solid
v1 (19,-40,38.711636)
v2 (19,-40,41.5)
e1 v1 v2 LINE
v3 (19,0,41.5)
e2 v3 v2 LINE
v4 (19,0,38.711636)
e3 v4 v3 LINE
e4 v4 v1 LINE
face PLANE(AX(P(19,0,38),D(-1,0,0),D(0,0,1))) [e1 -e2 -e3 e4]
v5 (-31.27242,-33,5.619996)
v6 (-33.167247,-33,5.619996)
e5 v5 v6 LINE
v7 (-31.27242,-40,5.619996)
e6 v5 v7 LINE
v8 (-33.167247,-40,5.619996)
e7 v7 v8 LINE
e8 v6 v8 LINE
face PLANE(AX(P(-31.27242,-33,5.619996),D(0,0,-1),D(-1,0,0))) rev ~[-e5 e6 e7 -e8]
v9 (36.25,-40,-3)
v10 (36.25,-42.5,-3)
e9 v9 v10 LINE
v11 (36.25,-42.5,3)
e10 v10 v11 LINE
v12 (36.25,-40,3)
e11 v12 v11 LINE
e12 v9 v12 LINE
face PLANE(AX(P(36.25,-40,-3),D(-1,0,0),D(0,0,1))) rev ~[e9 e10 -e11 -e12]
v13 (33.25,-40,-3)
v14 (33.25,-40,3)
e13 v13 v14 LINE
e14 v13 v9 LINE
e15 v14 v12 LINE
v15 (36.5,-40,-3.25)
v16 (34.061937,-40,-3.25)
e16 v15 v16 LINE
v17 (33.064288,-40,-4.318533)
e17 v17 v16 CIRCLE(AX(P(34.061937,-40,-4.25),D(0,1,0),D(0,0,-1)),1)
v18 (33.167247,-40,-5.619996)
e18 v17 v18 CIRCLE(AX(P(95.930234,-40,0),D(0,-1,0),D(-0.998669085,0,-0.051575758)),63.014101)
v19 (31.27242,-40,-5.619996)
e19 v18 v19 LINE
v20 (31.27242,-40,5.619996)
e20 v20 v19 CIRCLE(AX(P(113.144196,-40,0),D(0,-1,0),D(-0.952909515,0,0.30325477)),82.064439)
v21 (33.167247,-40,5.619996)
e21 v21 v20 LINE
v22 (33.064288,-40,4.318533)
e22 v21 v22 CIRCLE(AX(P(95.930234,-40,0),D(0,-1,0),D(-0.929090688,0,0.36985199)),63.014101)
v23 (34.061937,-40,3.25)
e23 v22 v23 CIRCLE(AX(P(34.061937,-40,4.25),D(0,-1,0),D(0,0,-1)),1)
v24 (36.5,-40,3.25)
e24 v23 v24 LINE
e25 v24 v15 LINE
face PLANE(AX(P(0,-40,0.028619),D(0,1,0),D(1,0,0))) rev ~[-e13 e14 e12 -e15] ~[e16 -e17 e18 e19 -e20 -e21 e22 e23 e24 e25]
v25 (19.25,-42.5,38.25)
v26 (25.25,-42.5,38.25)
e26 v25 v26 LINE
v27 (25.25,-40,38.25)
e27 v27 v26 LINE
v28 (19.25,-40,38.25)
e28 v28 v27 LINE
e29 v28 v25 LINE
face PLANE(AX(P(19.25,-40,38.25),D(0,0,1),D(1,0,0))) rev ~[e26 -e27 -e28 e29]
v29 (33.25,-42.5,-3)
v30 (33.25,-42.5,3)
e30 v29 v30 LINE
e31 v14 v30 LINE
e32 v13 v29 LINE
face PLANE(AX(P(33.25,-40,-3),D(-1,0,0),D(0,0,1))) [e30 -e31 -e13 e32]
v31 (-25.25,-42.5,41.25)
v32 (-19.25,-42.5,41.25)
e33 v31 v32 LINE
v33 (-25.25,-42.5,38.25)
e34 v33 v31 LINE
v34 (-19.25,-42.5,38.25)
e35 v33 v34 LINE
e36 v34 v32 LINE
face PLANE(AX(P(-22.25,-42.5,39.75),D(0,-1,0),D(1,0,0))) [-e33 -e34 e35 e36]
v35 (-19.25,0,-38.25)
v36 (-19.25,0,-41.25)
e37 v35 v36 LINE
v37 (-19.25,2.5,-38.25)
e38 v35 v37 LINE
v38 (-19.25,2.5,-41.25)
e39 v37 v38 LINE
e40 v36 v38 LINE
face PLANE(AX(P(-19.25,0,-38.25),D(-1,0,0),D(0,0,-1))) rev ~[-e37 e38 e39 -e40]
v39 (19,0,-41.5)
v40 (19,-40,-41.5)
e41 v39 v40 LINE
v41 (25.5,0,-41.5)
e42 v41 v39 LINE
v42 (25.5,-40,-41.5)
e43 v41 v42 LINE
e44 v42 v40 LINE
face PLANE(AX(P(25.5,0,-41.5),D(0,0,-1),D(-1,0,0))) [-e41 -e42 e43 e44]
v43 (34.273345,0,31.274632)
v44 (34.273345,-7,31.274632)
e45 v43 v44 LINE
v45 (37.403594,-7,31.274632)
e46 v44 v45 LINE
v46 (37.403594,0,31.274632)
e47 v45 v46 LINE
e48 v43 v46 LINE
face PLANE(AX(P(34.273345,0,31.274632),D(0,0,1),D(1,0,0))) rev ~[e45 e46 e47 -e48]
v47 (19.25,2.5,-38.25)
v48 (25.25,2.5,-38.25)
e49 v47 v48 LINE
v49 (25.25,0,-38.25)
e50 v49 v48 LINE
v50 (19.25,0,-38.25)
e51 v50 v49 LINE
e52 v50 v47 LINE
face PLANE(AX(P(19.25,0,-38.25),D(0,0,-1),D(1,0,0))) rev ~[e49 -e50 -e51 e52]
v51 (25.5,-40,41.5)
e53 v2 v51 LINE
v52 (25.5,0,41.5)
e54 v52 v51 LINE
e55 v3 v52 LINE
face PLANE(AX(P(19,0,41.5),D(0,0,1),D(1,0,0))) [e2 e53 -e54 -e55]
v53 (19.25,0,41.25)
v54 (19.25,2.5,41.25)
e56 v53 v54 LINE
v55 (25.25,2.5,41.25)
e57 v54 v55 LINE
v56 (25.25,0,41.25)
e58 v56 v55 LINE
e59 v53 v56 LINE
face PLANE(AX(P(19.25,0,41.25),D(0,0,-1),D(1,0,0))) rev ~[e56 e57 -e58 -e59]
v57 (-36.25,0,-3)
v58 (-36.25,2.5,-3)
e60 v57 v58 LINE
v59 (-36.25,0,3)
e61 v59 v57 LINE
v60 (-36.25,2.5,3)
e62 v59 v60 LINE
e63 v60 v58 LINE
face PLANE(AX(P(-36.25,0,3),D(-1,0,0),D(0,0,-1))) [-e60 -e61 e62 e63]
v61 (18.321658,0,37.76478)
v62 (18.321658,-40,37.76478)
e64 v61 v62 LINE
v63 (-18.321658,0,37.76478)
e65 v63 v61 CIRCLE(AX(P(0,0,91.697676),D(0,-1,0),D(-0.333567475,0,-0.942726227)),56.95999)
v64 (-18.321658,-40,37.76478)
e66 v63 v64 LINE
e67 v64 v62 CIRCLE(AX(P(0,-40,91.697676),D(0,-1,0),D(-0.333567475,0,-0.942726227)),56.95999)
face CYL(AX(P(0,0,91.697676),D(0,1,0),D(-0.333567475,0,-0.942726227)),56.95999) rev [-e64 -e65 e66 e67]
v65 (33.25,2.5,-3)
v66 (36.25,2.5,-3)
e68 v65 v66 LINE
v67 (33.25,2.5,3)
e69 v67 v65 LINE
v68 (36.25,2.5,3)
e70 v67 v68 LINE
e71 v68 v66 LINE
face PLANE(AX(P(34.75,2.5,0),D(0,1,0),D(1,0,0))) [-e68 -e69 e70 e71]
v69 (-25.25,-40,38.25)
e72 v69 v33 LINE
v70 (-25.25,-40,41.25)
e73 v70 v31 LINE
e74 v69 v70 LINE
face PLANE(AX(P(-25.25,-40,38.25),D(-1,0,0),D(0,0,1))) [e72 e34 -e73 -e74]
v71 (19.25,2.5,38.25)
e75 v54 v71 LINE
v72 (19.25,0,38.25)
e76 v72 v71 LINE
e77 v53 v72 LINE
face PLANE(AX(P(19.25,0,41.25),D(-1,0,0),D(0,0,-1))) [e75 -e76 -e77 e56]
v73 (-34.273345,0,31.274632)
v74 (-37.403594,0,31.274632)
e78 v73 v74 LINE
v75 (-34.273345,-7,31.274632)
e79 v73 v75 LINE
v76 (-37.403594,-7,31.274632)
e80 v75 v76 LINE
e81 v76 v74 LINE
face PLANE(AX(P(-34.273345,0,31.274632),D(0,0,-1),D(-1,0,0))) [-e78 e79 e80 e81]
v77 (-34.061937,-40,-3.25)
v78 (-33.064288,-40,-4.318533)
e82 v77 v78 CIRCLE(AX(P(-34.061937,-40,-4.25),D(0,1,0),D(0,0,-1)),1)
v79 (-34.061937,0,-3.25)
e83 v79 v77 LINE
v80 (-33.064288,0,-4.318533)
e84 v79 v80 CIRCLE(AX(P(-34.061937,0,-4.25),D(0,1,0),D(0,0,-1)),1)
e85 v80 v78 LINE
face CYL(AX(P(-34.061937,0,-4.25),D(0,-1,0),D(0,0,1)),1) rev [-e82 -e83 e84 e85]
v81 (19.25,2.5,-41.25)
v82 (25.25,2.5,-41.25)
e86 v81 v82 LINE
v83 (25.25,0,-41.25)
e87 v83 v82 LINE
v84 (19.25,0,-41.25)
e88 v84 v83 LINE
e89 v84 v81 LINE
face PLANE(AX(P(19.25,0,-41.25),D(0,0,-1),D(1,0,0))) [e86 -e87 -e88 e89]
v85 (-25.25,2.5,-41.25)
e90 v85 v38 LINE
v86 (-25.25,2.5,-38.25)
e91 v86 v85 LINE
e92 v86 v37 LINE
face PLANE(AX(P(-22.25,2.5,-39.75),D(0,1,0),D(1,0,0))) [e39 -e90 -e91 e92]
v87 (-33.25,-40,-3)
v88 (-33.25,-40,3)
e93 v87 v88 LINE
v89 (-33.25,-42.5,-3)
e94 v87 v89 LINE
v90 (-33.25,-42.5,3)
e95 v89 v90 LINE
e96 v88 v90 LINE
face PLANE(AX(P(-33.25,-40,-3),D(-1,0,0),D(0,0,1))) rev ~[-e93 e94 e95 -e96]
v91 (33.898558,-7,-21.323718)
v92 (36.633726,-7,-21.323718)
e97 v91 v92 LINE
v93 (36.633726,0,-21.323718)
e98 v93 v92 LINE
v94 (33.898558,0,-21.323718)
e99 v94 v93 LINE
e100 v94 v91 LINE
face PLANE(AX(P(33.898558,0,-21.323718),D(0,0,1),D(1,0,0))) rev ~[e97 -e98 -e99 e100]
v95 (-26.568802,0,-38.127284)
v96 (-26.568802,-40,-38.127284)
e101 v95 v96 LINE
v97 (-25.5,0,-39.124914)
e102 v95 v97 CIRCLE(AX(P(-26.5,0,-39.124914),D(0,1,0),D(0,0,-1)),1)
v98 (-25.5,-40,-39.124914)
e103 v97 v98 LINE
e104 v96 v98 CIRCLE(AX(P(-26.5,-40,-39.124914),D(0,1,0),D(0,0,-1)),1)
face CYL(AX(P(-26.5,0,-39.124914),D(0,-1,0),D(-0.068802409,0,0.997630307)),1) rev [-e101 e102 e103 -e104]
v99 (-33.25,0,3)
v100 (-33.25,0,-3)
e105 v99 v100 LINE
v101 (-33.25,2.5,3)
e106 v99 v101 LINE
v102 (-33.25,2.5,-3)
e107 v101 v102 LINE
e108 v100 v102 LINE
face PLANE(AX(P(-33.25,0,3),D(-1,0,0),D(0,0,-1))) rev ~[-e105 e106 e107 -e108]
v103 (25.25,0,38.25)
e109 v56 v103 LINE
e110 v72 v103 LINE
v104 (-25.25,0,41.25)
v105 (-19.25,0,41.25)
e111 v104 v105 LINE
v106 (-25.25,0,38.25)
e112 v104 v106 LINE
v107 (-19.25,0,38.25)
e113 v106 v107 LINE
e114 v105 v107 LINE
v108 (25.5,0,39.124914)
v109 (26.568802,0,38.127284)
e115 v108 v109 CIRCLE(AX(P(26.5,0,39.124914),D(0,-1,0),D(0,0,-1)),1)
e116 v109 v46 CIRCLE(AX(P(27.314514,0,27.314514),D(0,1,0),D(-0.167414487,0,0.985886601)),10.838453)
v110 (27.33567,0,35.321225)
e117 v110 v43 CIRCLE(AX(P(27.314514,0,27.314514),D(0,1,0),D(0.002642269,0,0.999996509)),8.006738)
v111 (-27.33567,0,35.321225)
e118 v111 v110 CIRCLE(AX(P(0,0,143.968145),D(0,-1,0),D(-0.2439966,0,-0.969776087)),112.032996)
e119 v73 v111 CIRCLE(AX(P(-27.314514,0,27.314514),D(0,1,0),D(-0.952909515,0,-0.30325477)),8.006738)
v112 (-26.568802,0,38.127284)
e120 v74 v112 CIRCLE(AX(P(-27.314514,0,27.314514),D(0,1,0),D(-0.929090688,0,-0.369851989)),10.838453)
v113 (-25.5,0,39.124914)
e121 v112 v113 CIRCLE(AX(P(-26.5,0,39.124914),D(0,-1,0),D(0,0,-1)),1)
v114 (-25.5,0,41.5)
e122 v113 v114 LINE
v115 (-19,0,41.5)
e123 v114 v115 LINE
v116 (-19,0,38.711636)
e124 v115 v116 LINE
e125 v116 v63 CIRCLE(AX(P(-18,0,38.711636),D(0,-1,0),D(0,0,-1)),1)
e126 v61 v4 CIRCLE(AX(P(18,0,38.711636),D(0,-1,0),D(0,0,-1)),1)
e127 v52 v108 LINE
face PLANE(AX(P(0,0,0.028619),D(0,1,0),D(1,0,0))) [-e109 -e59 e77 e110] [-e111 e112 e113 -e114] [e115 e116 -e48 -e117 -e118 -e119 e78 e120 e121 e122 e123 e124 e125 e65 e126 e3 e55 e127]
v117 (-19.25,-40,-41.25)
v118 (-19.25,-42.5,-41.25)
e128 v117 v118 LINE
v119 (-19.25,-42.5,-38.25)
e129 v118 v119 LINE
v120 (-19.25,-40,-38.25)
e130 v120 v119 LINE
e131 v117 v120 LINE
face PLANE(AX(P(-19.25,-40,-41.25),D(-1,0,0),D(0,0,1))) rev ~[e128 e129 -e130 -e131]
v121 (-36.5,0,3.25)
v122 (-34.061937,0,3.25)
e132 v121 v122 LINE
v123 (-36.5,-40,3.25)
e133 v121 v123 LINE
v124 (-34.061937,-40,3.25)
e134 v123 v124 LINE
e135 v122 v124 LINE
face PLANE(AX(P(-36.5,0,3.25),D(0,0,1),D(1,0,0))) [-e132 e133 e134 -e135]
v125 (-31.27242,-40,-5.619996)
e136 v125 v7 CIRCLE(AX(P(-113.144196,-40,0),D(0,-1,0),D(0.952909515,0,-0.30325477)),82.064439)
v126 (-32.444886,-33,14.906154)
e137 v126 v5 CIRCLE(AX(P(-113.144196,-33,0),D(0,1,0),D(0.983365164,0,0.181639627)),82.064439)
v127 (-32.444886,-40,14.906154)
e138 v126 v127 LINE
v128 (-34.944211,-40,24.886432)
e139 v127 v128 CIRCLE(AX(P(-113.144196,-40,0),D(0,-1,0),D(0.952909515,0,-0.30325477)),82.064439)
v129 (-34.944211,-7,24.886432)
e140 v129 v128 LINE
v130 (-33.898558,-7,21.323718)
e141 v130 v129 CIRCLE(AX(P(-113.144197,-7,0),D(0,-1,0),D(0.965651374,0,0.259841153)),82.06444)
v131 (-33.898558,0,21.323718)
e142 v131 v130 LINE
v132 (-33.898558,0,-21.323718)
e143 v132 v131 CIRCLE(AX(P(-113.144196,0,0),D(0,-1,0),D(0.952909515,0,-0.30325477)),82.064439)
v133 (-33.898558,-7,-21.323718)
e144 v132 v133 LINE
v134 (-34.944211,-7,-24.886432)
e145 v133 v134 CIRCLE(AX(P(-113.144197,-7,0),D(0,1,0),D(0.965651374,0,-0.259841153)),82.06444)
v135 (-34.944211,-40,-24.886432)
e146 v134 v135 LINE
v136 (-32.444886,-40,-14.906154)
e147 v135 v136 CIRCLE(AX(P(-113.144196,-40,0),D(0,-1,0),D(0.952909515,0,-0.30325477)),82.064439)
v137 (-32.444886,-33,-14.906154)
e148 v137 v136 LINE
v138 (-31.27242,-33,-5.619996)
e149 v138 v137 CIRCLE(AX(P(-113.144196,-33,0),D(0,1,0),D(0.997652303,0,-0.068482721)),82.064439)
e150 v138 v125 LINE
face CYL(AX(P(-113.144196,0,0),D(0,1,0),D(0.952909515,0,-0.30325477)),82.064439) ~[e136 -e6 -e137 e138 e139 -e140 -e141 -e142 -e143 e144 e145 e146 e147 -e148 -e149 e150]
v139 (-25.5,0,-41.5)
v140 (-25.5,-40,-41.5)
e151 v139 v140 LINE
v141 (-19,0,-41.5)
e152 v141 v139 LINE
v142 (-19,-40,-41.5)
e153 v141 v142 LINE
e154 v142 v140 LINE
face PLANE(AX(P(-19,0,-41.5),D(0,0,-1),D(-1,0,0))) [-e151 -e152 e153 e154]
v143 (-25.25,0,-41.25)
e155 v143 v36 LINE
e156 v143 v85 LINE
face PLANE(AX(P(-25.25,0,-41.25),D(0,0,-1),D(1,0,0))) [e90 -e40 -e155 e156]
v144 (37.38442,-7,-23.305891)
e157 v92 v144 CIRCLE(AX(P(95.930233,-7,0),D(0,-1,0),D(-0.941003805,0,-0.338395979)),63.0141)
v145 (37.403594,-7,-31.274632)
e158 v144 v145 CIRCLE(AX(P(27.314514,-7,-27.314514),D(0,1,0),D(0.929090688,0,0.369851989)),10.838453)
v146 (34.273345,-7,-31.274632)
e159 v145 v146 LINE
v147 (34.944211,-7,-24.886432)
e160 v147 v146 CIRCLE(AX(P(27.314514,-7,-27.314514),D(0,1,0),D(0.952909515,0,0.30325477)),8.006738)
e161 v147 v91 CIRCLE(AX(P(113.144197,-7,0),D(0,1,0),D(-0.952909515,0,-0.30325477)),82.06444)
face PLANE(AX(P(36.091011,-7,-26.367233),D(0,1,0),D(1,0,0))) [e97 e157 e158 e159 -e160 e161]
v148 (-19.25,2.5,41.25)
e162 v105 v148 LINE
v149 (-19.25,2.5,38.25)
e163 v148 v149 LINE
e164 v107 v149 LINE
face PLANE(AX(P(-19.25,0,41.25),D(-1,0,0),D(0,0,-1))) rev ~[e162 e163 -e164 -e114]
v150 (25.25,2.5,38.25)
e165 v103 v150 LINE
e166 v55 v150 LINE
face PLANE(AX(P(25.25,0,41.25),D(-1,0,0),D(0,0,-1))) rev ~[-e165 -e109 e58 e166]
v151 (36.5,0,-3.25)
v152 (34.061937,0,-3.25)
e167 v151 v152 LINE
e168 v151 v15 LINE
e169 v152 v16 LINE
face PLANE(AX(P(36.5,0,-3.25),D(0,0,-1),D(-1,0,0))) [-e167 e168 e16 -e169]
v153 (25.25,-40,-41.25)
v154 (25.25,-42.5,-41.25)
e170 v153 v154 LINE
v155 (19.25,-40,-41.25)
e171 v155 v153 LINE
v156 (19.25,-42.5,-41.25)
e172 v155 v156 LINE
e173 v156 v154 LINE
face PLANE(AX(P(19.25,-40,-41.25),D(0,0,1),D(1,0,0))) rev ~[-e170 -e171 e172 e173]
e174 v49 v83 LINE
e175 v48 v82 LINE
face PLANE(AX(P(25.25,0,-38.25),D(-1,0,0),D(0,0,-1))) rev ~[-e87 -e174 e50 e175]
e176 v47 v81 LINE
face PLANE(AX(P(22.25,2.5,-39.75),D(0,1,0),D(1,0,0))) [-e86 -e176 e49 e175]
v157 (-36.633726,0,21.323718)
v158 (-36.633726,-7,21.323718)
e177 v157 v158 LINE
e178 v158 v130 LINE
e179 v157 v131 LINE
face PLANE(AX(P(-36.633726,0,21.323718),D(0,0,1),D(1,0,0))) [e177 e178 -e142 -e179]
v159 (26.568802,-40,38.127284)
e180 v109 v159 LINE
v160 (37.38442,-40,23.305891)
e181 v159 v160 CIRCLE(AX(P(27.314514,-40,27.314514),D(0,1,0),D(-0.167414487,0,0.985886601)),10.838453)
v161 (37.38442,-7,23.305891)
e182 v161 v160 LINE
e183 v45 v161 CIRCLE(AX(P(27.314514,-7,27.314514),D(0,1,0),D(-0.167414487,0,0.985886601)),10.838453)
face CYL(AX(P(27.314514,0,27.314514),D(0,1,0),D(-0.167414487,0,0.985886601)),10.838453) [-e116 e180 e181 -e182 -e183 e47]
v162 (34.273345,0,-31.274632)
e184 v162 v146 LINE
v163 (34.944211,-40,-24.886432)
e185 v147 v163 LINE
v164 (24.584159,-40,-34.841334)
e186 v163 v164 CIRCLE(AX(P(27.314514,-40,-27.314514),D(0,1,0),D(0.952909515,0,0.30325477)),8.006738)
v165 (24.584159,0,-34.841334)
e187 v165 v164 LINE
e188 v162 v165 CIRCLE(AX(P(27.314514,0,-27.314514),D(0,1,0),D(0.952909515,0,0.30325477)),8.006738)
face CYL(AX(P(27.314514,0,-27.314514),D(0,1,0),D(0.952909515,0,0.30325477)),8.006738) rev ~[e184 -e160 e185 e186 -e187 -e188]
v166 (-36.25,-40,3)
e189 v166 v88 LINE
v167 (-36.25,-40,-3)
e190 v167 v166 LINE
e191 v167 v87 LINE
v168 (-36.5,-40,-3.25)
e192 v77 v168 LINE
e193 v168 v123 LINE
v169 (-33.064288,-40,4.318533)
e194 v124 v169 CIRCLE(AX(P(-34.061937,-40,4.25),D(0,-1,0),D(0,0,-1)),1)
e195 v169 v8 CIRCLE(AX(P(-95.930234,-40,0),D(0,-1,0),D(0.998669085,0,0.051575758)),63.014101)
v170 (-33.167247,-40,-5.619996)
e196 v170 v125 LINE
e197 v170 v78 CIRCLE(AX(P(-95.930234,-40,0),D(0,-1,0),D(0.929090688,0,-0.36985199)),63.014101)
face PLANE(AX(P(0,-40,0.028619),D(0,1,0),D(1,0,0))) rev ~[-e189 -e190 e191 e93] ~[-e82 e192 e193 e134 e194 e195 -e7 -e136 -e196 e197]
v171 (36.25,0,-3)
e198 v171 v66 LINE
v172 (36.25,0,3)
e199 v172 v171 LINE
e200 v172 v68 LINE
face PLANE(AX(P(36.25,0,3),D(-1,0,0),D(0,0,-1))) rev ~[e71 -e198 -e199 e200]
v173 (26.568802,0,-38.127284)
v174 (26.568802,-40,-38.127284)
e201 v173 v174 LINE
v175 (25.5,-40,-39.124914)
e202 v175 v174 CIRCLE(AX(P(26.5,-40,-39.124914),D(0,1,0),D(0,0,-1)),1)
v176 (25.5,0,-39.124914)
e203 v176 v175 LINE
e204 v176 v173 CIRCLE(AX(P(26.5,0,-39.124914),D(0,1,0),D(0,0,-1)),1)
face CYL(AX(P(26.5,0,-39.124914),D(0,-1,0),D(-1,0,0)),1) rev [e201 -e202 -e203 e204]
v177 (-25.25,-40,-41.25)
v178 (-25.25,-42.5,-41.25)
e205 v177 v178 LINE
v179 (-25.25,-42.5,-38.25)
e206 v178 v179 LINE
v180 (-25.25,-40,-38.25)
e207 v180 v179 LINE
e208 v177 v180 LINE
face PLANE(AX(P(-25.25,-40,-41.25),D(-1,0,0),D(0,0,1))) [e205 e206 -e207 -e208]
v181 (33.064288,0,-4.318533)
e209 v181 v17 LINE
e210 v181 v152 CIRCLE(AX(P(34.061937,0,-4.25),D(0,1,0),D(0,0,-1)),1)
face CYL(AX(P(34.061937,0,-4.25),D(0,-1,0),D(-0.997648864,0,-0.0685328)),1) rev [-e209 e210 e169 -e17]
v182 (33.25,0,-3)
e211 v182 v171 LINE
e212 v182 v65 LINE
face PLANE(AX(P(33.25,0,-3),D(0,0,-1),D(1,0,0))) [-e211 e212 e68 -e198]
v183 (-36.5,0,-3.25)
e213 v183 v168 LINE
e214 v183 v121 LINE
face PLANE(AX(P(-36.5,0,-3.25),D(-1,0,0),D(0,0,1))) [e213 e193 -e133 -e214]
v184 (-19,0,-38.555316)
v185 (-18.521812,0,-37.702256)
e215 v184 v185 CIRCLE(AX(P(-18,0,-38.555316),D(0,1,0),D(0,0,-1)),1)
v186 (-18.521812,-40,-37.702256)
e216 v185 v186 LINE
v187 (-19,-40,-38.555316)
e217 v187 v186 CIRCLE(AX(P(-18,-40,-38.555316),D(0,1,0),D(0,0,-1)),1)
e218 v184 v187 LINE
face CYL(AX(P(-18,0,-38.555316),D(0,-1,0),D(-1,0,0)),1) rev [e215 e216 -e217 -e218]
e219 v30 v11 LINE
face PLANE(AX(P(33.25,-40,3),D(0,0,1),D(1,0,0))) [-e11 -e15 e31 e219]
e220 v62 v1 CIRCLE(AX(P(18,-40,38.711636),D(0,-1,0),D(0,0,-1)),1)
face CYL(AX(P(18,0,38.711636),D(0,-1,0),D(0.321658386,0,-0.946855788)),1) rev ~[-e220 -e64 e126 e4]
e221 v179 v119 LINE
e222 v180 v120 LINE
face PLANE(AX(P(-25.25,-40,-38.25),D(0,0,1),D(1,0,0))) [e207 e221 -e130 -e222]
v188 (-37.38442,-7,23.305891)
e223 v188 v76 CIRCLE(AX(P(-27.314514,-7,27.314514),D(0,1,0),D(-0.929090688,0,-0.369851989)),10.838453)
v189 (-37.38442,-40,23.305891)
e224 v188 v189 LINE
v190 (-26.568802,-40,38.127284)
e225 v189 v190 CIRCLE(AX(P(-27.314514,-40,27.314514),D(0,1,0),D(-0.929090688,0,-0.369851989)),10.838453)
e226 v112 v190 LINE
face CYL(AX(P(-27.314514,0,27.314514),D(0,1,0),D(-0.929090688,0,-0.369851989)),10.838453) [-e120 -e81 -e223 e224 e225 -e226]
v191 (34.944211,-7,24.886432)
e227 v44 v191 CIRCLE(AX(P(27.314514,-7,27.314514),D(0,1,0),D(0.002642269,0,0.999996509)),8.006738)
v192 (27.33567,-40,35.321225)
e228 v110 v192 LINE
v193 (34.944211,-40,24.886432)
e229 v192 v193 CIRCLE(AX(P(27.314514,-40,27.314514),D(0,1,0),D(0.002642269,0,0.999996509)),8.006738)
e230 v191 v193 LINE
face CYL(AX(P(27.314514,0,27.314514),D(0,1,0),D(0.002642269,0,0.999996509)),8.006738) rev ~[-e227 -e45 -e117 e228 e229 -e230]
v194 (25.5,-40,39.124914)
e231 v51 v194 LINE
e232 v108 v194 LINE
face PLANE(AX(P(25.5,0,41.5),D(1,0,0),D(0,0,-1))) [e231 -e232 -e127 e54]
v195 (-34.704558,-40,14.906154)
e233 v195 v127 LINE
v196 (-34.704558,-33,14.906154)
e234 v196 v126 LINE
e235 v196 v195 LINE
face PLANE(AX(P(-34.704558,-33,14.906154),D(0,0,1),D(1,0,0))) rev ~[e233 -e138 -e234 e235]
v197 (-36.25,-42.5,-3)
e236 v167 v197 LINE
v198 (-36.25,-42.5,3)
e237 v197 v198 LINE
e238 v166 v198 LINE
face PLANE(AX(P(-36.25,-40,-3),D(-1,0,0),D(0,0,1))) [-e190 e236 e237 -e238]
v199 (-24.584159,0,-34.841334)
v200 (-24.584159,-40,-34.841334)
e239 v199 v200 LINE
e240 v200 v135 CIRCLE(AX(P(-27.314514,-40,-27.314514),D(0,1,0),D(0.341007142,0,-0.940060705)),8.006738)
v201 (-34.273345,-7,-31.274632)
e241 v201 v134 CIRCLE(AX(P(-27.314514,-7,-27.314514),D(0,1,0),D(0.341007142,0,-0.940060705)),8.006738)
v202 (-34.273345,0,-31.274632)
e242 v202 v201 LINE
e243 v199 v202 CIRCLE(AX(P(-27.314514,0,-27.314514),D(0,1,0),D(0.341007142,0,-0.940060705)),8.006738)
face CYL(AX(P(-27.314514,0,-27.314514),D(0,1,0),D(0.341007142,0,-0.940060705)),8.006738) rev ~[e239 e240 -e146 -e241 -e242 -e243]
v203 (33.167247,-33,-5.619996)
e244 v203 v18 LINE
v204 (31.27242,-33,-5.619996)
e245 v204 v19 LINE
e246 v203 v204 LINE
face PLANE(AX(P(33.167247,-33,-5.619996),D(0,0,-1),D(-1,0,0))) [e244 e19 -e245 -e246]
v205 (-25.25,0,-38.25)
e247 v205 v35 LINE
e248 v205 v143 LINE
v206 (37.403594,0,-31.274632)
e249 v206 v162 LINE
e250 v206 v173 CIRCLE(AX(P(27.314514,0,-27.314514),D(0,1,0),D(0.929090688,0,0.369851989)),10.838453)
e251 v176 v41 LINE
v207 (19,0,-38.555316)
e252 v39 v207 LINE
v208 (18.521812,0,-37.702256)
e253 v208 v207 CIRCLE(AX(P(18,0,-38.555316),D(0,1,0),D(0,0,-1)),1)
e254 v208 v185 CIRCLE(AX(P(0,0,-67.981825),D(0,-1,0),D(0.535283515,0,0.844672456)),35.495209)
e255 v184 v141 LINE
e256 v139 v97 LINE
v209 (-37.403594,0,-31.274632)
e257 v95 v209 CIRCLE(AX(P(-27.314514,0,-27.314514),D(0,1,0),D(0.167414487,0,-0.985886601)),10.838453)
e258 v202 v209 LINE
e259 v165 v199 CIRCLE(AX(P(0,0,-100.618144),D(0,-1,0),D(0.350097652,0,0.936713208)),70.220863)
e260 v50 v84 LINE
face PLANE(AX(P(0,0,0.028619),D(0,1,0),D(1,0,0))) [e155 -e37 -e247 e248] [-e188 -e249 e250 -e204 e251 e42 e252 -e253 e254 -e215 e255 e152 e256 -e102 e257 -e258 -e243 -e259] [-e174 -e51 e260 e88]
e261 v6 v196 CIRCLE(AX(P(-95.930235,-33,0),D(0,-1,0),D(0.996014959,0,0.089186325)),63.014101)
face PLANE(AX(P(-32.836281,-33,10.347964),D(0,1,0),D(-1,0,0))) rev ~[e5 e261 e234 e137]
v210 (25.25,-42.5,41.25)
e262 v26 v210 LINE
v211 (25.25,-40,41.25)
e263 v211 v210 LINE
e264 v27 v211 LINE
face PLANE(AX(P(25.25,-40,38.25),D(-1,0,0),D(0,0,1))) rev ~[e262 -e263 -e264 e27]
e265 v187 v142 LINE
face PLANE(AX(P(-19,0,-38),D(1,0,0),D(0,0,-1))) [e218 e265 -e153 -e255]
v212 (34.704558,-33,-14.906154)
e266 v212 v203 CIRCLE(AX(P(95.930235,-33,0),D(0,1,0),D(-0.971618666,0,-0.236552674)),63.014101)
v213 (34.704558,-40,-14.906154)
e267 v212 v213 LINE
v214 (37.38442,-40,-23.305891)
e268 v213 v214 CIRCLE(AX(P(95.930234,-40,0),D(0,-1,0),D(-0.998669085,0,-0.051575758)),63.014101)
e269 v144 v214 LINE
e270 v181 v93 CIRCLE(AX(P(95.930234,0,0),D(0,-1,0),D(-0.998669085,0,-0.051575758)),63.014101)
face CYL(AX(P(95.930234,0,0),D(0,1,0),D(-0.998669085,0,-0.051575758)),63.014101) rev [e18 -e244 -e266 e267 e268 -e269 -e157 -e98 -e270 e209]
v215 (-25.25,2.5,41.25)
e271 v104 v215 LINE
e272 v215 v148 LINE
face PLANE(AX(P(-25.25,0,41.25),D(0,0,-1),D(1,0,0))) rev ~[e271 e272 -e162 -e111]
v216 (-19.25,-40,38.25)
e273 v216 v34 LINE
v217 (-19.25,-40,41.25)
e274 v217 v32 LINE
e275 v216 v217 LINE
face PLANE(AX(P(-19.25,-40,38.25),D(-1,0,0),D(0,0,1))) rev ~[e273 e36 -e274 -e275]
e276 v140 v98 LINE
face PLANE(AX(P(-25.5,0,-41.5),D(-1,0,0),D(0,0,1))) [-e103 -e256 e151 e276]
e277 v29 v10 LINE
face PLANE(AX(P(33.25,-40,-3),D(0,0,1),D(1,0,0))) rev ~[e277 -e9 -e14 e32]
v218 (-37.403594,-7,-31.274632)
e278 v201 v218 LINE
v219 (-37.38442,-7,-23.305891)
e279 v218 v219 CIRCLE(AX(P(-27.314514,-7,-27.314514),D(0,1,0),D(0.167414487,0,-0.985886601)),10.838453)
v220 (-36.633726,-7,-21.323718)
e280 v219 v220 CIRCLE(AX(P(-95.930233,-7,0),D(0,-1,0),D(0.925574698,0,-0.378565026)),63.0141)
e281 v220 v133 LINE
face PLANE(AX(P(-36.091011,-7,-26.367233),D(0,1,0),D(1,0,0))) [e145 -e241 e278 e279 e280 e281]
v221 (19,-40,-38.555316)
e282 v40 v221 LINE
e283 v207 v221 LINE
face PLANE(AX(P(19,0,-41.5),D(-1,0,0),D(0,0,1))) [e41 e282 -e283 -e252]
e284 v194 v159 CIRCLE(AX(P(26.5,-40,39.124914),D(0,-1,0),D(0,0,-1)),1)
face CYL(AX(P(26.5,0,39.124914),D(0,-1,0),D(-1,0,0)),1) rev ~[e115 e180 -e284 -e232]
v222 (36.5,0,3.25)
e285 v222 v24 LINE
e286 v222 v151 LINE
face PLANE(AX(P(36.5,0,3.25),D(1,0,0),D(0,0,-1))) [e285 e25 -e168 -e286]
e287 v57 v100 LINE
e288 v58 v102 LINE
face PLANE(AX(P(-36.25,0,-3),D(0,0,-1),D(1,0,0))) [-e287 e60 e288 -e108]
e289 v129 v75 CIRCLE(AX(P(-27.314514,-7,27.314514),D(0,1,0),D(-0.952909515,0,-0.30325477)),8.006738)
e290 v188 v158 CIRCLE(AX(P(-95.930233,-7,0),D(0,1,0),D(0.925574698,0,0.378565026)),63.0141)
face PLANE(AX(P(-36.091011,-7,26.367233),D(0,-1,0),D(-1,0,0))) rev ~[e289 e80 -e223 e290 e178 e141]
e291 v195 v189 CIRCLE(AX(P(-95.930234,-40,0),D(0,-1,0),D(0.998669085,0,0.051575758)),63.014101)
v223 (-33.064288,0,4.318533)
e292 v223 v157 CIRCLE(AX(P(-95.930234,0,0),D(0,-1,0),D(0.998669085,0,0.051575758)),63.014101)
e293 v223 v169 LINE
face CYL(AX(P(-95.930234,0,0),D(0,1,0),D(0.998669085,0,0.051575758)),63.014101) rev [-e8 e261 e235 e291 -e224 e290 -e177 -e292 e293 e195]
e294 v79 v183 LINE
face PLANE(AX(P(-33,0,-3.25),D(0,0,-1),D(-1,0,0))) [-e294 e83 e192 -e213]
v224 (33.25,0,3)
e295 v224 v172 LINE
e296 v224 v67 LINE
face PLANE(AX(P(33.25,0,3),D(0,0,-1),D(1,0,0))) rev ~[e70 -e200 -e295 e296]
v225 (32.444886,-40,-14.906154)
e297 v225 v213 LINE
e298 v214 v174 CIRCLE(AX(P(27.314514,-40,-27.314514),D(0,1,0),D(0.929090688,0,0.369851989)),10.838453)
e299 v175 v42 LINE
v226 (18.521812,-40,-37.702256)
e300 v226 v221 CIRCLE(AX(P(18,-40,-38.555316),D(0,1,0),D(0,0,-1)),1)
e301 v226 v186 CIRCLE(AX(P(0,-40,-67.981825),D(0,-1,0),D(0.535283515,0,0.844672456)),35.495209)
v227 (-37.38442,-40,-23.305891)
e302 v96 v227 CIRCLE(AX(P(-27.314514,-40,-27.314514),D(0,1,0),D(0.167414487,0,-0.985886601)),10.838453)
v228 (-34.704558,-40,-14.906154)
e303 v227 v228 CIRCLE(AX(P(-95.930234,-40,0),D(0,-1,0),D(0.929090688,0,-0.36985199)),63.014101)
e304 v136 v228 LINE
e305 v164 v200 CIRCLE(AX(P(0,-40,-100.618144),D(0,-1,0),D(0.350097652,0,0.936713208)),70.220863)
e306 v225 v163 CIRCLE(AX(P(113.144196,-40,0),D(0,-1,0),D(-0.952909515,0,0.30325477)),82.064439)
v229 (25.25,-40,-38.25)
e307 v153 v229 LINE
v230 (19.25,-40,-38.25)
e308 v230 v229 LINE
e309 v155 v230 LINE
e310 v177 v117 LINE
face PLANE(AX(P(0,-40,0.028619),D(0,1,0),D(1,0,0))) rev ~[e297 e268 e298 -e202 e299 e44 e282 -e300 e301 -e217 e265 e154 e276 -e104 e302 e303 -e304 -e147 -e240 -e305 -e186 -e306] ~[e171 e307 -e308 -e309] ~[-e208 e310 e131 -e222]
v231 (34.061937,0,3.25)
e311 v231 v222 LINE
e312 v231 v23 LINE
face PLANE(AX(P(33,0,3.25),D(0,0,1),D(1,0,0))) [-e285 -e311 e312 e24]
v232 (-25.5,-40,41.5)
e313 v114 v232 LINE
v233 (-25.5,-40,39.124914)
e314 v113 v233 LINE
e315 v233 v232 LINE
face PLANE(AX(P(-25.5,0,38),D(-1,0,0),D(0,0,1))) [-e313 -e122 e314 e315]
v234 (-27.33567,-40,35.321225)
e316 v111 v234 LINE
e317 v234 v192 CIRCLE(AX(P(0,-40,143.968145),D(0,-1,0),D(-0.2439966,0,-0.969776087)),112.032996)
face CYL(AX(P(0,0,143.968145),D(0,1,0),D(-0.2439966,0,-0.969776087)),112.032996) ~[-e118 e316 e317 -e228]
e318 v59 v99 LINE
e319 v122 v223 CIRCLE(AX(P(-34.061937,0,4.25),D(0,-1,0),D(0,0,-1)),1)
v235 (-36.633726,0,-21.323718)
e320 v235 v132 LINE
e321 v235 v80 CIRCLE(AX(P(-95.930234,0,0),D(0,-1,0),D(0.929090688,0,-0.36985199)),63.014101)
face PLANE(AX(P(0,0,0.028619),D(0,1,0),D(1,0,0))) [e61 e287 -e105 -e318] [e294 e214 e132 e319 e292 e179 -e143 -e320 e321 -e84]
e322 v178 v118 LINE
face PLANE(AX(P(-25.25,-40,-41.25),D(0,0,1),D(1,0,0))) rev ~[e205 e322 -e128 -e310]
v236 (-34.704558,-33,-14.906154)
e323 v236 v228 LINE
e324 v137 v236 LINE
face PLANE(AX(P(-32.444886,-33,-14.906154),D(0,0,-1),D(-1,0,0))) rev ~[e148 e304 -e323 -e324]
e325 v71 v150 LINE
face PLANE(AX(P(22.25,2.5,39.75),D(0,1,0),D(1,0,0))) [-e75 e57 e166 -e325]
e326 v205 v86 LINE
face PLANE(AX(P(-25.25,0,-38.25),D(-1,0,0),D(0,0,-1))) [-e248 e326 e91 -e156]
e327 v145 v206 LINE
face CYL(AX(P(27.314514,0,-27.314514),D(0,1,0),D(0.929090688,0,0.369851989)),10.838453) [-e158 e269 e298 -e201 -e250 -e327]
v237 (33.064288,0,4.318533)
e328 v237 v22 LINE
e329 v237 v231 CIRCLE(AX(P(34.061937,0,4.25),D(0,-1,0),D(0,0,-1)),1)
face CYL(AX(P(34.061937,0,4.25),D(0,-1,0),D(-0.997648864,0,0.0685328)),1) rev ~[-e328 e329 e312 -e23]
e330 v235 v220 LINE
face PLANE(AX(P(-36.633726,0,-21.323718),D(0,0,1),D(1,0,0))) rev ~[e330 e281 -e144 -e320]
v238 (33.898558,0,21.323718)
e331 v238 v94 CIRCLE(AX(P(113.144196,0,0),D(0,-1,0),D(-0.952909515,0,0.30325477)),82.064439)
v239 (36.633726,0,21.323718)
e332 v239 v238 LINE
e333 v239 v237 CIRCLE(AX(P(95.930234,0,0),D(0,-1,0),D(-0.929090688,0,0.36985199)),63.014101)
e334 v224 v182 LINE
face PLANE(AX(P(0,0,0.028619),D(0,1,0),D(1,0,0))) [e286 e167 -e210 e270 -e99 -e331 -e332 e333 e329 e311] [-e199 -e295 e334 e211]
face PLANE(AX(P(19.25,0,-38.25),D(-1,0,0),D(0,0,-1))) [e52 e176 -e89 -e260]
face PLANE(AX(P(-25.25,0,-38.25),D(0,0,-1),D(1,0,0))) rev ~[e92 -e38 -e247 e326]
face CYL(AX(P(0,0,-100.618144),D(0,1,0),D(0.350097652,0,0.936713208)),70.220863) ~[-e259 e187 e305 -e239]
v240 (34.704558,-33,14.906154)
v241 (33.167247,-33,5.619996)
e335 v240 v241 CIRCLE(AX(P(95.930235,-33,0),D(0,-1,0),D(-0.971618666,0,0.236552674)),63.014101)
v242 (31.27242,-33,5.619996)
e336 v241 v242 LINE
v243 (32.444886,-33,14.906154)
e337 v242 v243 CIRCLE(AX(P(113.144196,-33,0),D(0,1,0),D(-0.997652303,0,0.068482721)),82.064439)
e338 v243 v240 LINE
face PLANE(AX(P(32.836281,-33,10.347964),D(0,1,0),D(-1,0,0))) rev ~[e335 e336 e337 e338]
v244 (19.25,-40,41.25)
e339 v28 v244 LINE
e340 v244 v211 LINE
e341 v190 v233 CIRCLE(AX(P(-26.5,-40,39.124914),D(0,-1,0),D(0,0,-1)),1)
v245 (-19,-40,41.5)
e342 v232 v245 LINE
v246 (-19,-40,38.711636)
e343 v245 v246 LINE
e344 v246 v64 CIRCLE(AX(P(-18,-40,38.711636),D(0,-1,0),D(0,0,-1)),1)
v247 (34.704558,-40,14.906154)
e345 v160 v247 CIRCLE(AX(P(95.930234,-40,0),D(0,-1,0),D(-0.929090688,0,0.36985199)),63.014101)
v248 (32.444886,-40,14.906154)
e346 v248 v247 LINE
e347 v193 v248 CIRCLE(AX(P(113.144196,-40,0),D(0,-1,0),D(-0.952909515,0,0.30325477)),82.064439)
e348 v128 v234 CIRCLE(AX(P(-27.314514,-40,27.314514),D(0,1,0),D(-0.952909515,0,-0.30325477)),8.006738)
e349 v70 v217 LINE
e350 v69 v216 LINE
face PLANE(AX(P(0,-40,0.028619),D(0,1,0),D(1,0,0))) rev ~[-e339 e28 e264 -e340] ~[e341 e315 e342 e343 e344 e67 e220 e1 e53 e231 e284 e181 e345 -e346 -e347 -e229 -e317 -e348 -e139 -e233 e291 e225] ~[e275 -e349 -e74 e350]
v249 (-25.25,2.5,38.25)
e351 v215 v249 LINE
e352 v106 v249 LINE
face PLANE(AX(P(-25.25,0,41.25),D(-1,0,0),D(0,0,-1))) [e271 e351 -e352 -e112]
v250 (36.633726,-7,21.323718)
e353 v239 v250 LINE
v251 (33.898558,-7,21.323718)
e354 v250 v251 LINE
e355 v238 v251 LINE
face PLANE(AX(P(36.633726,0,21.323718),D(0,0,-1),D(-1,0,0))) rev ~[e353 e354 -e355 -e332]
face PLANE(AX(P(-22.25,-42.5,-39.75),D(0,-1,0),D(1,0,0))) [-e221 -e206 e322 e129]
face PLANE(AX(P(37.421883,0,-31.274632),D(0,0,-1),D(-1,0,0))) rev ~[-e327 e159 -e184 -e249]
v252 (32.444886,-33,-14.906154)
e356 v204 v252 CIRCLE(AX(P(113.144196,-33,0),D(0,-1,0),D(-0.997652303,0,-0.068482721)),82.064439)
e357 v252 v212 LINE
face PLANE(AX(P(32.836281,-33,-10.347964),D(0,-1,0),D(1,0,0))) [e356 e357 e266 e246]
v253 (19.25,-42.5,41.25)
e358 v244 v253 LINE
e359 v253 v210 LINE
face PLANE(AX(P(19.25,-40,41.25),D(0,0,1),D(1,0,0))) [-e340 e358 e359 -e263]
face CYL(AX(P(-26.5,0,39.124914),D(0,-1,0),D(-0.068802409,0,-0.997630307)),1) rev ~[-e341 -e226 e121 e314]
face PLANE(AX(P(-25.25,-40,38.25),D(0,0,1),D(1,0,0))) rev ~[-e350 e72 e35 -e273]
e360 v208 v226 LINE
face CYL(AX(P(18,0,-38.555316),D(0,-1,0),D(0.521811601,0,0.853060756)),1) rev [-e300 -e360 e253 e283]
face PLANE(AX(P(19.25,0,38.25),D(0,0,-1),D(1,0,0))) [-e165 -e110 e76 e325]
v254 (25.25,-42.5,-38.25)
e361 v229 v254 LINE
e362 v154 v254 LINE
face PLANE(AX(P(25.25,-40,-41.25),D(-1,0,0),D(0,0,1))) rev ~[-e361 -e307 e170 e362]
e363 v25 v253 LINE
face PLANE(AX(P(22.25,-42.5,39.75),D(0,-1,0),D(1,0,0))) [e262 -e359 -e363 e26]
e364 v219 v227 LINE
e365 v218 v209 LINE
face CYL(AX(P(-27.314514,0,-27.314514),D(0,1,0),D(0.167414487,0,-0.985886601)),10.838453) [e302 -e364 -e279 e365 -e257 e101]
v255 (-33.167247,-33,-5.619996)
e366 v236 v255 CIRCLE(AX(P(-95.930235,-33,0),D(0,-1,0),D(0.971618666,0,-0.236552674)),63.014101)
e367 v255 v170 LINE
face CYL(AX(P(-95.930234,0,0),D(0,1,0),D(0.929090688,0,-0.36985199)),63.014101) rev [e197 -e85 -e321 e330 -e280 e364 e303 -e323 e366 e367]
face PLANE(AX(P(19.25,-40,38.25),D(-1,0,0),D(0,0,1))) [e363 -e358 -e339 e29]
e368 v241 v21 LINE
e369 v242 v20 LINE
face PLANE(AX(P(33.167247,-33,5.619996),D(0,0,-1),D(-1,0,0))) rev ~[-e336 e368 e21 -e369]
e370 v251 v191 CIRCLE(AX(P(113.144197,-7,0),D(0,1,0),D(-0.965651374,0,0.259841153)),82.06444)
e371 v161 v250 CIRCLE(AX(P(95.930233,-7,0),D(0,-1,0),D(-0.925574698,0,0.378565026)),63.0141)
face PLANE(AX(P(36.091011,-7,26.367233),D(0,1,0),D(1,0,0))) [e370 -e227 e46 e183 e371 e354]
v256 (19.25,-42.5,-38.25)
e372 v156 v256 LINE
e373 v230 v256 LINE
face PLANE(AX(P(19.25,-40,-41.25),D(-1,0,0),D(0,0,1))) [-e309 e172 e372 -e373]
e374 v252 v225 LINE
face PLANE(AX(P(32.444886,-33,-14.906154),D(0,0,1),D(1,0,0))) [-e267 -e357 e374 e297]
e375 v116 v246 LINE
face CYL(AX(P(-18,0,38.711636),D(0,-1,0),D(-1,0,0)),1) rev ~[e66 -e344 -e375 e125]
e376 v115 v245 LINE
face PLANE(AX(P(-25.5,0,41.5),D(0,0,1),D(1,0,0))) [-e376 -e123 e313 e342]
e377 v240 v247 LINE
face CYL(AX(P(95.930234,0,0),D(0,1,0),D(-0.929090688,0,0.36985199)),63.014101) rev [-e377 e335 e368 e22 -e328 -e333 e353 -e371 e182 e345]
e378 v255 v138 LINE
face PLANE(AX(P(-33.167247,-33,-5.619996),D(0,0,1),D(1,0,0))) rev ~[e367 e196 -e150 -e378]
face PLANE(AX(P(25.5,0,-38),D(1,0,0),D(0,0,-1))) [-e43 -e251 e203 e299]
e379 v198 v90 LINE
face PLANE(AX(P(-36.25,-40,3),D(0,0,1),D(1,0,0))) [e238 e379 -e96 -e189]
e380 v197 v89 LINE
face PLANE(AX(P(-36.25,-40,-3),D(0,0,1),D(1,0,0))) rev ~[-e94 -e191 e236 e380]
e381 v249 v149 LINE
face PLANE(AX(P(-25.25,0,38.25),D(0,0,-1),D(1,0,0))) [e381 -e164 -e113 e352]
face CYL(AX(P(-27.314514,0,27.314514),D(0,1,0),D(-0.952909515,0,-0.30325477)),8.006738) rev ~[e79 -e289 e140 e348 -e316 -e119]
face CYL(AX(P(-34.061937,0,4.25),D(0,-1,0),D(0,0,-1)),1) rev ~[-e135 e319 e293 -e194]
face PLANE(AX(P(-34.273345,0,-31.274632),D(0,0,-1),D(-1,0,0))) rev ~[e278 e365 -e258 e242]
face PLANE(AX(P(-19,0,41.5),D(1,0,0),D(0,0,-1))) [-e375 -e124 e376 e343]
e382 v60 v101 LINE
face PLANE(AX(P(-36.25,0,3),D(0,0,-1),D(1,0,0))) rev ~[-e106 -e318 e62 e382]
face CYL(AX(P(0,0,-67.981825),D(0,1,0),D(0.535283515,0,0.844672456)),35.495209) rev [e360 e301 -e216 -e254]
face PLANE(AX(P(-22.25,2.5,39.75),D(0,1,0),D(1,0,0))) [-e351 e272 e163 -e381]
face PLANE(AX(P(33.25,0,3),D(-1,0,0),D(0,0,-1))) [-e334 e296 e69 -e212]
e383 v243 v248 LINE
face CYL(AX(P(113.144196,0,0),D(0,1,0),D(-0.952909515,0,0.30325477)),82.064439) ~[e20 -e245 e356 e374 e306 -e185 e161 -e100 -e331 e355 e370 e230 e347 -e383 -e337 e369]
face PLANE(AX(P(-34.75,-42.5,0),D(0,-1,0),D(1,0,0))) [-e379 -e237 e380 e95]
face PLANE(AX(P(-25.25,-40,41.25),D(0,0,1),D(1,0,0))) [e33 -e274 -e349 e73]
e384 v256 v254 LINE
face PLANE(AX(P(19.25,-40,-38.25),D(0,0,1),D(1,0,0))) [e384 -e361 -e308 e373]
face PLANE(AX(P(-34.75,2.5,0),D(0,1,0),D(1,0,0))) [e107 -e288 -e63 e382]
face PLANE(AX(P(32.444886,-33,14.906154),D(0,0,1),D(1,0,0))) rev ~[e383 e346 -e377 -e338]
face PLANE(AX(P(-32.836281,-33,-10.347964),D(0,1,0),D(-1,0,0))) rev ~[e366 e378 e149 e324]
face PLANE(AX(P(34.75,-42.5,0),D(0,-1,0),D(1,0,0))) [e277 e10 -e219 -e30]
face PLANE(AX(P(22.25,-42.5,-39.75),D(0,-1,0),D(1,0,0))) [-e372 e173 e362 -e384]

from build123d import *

# Parameters (mm, degrees)
EXTRUDE_1_DEPTH        = 40
SKETCH_5_W             = 3
SKETCH_5_H             = 6
SKETCH_5_W_2           = 6
SKETCH_5_H_2           = 3
EXTRUDE_3_DEPTH        = 2.5
SKETCH_6_W             = 6
SKETCH_6_H             = 3
SKETCH_6_W_2           = 3
SKETCH_6_H_2           = 6
EXTRUDE_4_DEPTH        = 2.5
FILLET_1_R             = 1
CUT_EXTRUDE_8754_DEPTH = 7
CUT_EXTRUDE_START      = -7
CUT_EXTRUDE_9199_DEPTH = 7


with BuildPart() as part:
    # 草图2 → 凸台-拉伸1 (new body)
    with BuildSketch(Plane(origin=(0, 0, 0), x_dir=(1, 0, 0), z_dir=(0, 1, 0))):
        with BuildLine():
            Line((-33, 3.25), (-36.5, 3.25))
            Line((-36.5, 3.25), (-36.5, -3.25))
            Line((-36.5, -3.25), (-33, -3.25))
            ThreePointArc((-33, -3.25), (-34.3699608, -13.457697281), (-37.384420147, -23.305890579))
            ThreePointArc((-37.384420147, -23.305890579), (-35.741677738, -34.13030337), (-25.5, -38))
            Line((-25.5, -38), (-25.5, -41.5))
            Line((-25.5, -41.5), (-19, -41.5))
            Line((-19, -41.5), (-19, -38))
            ThreePointArc((-19, -38), (0, -34.737686486), (19, -38))
            Line((19, -38), (19, -41.5))
            Line((19, -41.5), (25.5, -41.5))
            Line((25.5, -41.5), (25.5, -38))
            ThreePointArc((25.5, -38), (35.741677738, -34.13030337), (37.384420147, -23.305890579))
            ThreePointArc((37.384420147, -23.305890579), (34.3699608, -13.457697281), (33, -3.25))
            Line((33, -3.25), (36.5, -3.25))
            Line((36.5, -3.25), (36.5, 3.25))
            Line((36.5, 3.25), (33, 3.25))
            ThreePointArc((33, 3.25), (34.3699608, 13.457697281), (37.384420147, 23.305890579))
            ThreePointArc((37.384420147, 23.305890579), (35.741677738, 34.13030337), (25.5, 38))
            Line((25.5, 38), (25.5, 41.5))
            Line((25.5, 41.5), (19, 41.5))
            Line((19, 41.5), (19, 38))
            ThreePointArc((19, 38), (0, 32.48661644), (-19, 38))
            Line((-19, 38), (-19, 41.5))
            Line((-19, 41.5), (-25.5, 41.5))
            Line((-25.5, 41.5), (-25.5, 38))
            ThreePointArc((-25.5, 38), (-35.741677738, 34.13030337), (-37.384420147, 23.305890579))
            ThreePointArc((-37.384420147, 23.305890579), (-34.3699608, 13.457697281), (-33, 3.25))
        make_face()
        with BuildLine():
            ThreePointArc((-24.584159113, 34.841334273), (-32.862117731, 33.087897358), (-34.944211337, 24.886432483))
            ThreePointArc((-34.944211337, 24.886432483), (-31.079757149, 0), (-34.944211337, -24.886432483))
            ThreePointArc((-34.944211337, -24.886432483), (-33.784066651, -32.031796166), (-27.335670062, -35.32122458))
            ThreePointArc((-27.335670062, -35.32122458), (0, -31.93514908), (27.335670062, -35.32122458))
            ThreePointArc((27.335670062, -35.32122458), (33.784066651, -32.031796166), (34.944211337, -24.886432483))
            ThreePointArc((34.944211337, -24.886432483), (31.079757149, 0), (34.944211337, 24.886432483))
            ThreePointArc((34.944211337, 24.886432483), (32.862117731, 33.087897358), (24.584159113, 34.841334273))
            ThreePointArc((24.584159113, 34.841334273), (0, 30.397281148), (-24.584159113, 34.841334273))
        make_face(mode=Mode.SUBTRACT)
    extrude(amount=-EXTRUDE_1_DEPTH)

    # 草图5 → 凸台-拉伸3 (add)
    with BuildSketch(Plane(origin=(0, 0, 0), x_dir=(1, 0, 0), z_dir=(0, 1, 0))):
        with Locations((-34.75, 0)):
            Rectangle(SKETCH_5_W, SKETCH_5_H)
        with Locations((-22.25, -39.75)):
            Rectangle(SKETCH_5_W_2, SKETCH_5_H_2)
        with Locations((-22.25, 39.75)):
            Rectangle(SKETCH_5_W_2, SKETCH_5_H_2)
        with Locations((22.25, 39.75)):
            Rectangle(SKETCH_5_W_2, SKETCH_5_H_2)
        with Locations((22.25, -39.75)):
            Rectangle(SKETCH_5_W_2, SKETCH_5_H_2)
        with Locations((34.75, 0)):
            Rectangle(SKETCH_5_W, SKETCH_5_H)
    extrude(amount=EXTRUDE_3_DEPTH)

    # 草图6 → 凸台-拉伸4 (add)
    with BuildSketch(Plane.XZ.offset(40)):
        with Locations((-22.25, 39.75)):
            Rectangle(SKETCH_6_W, SKETCH_6_H)
        with Locations((-34.75, 0)):
            Rectangle(SKETCH_6_W_2, SKETCH_6_H_2)
        with Locations((-22.25, -39.75)):
            Rectangle(SKETCH_6_W, SKETCH_6_H)
        with Locations((22.25, 39.75)):
            Rectangle(SKETCH_6_W, SKETCH_6_H)
        with Locations((22.25, -39.75)):
            Rectangle(SKETCH_6_W, SKETCH_6_H)
        with Locations((34.75, 0)):
            Rectangle(SKETCH_6_W_2, SKETCH_6_H_2)
    extrude(amount=EXTRUDE_4_DEPTH)

    # 圆角1
    fillet_1_edges = [part.edges().sort_by_distance(p)[0] for p in [
        (-25.5, -20, -38),
        (-19, -20, -38),
        (19, -20, -38),
        (25.5, -20, -38),
        (33, -20, -3.25),
        (33, -20, 3.25),
        (25.5, -20, 38),
        (19, -20, 38),
        (-19, -20, 38),
        (-25.5, -20, 38),
        (-33, -20, 3.25),
        (-33, -20, -3.25),
    ]]
    fillet(fillet_1_edges, radius=FILLET_1_R)

    # 草图7 → Cut-Extrude 8754 (cut)
    with BuildSketch(Plane(origin=(0, 0, 0), x_dir=(1, 0, 0), z_dir=(0, 1, 0))):
        with BuildLine():
            Line((-36.633725749, -21.323718343), (-33.898557891, -21.323718343))
            ThreePointArc((-33.898557891, -21.323718343), (-34.401232724, -23.110989975), (-34.944211337, -24.886432483))
            ThreePointArc((-34.944211337, -24.886432483), (-35.274550553, -28.150449442), (-34.273344825, -31.274632183))
            Line((-34.273344825, -31.274632183), (-37.421883074, -31.274632183))
            ThreePointArc((-37.421883074, -31.274632183), (-38.165581654, -27.580951917), (-37.605977079, -23.854934713))
            ThreePointArc((-37.605977079, -23.854934713), (-37.106234952, -22.594556671), (-36.633725749, -21.323718343))
        make_face()
        with BuildLine():
            Line((36.633725749, -21.323718343), (33.898557891, -21.323718343))
            ThreePointArc((33.898557891, -21.323718343), (34.401232724, -23.110989975), (34.944211337, -24.886432483))
            ThreePointArc((34.944211337, -24.886432483), (35.274550553, -28.150449442), (34.273344825, -31.274632183))
            Line((34.273344825, -31.274632183), (37.421883074, -31.274632183))
            ThreePointArc((37.421883074, -31.274632183), (38.165581654, -27.580951917), (37.605977079, -23.854934713))
            ThreePointArc((37.605977079, -23.854934713), (37.106234952, -22.594556671), (36.633725749, -21.323718343))
        make_face()
        with BuildLine():
            Line((-36.633725749, 21.323718343), (-33.898557891, 21.323718343))
            ThreePointArc((-33.898557891, 21.323718343), (-34.401232724, 23.110989975), (-34.944211337, 24.886432483))
            ThreePointArc((-34.944211337, 24.886432483), (-35.274550553, 28.150449442), (-34.273344825, 31.274632183))
            Line((-34.273344825, 31.274632183), (-37.421883074, 31.274632183))
            ThreePointArc((-37.421883074, 31.274632183), (-38.165581654, 27.580951917), (-37.605977079, 23.854934713))
            ThreePointArc((-37.605977079, 23.854934713), (-37.106234952, 22.594556671), (-36.633725749, 21.323718343))
        make_face()
        with BuildLine():
            Line((37.421883074, 31.274632183), (34.273344825, 31.274632183))
            ThreePointArc((34.273344825, 31.274632183), (35.274550553, 28.150449442), (34.944211337, 24.886432483))
            ThreePointArc((34.944211337, 24.886432483), (34.401232724, 23.110989975), (33.898557891, 21.323718343))
            Line((33.898557891, 21.323718343), (36.633725749, 21.323718343))
            ThreePointArc((36.633725749, 21.323718343), (37.106234952, 22.594556671), (37.605977079, 23.854934713))
            ThreePointArc((37.605977079, 23.854934713), (38.165581654, 27.580951917), (37.421883074, 31.274632183))
        make_face()
    extrude(amount=-CUT_EXTRUDE_8754_DEPTH, mode=Mode.SUBTRACT)

    # 草图8 → Cut-Extrude 9199 (cut)
    with BuildSketch(Plane.XZ.offset(40).offset(CUT_EXTRUDE_START)):
        with BuildLine():
            Line((-33.167247328, -5.619996041), (-31.272419616, -5.619996041))
            ThreePointArc((-31.272419616, -5.619996041), (-31.726152882, -10.279804399), (-32.444885624, -14.906154046))
            Line((-32.444885624, -14.906154046), (-34.704557814, -14.906154046))
            ThreePointArc((-34.704557814, -14.906154046), (-33.762273508, -10.291819093), (-33.167247328, -5.619996041))
        make_face()
        with BuildLine():
            Line((-34.704557814, 14.906154046), (-32.444885624, 14.906154046))
            ThreePointArc((-32.444885624, 14.906154046), (-31.726152882, 10.279804399), (-31.272419616, 5.619996041))
            Line((-31.272419616, 5.619996041), (-33.167247328, 5.619996041))
            ThreePointArc((-33.167247328, 5.619996041), (-33.762273508, 10.291819093), (-34.704557814, 14.906154046))
        make_face()
        with BuildLine():
            Line((33.167247328, -5.619996041), (31.272419616, -5.619996041))
            ThreePointArc((31.272419616, -5.619996041), (31.726152882, -10.279804399), (32.444885624, -14.906154046))
            Line((32.444885624, -14.906154046), (34.704557814, -14.906154046))
            ThreePointArc((34.704557814, -14.906154046), (33.762273508, -10.291819093), (33.167247328, -5.619996041))
        make_face()
        with BuildLine():
            Line((33.167247328, 5.619996041), (31.272419616, 5.619996041))
            ThreePointArc((31.272419616, 5.619996041), (31.726152882, 10.279804399), (32.444885624, 14.906154046))
            Line((32.444885624, 14.906154046), (34.704557814, 14.906154046))
            ThreePointArc((34.704557814, 14.906154046), (33.762273508, 10.291819093), (33.167247328, 5.619996041))
        make_face()
    extrude(amount=CUT_EXTRUDE_9199_DEPTH, mode=Mode.SUBTRACT)


solid = part.part
